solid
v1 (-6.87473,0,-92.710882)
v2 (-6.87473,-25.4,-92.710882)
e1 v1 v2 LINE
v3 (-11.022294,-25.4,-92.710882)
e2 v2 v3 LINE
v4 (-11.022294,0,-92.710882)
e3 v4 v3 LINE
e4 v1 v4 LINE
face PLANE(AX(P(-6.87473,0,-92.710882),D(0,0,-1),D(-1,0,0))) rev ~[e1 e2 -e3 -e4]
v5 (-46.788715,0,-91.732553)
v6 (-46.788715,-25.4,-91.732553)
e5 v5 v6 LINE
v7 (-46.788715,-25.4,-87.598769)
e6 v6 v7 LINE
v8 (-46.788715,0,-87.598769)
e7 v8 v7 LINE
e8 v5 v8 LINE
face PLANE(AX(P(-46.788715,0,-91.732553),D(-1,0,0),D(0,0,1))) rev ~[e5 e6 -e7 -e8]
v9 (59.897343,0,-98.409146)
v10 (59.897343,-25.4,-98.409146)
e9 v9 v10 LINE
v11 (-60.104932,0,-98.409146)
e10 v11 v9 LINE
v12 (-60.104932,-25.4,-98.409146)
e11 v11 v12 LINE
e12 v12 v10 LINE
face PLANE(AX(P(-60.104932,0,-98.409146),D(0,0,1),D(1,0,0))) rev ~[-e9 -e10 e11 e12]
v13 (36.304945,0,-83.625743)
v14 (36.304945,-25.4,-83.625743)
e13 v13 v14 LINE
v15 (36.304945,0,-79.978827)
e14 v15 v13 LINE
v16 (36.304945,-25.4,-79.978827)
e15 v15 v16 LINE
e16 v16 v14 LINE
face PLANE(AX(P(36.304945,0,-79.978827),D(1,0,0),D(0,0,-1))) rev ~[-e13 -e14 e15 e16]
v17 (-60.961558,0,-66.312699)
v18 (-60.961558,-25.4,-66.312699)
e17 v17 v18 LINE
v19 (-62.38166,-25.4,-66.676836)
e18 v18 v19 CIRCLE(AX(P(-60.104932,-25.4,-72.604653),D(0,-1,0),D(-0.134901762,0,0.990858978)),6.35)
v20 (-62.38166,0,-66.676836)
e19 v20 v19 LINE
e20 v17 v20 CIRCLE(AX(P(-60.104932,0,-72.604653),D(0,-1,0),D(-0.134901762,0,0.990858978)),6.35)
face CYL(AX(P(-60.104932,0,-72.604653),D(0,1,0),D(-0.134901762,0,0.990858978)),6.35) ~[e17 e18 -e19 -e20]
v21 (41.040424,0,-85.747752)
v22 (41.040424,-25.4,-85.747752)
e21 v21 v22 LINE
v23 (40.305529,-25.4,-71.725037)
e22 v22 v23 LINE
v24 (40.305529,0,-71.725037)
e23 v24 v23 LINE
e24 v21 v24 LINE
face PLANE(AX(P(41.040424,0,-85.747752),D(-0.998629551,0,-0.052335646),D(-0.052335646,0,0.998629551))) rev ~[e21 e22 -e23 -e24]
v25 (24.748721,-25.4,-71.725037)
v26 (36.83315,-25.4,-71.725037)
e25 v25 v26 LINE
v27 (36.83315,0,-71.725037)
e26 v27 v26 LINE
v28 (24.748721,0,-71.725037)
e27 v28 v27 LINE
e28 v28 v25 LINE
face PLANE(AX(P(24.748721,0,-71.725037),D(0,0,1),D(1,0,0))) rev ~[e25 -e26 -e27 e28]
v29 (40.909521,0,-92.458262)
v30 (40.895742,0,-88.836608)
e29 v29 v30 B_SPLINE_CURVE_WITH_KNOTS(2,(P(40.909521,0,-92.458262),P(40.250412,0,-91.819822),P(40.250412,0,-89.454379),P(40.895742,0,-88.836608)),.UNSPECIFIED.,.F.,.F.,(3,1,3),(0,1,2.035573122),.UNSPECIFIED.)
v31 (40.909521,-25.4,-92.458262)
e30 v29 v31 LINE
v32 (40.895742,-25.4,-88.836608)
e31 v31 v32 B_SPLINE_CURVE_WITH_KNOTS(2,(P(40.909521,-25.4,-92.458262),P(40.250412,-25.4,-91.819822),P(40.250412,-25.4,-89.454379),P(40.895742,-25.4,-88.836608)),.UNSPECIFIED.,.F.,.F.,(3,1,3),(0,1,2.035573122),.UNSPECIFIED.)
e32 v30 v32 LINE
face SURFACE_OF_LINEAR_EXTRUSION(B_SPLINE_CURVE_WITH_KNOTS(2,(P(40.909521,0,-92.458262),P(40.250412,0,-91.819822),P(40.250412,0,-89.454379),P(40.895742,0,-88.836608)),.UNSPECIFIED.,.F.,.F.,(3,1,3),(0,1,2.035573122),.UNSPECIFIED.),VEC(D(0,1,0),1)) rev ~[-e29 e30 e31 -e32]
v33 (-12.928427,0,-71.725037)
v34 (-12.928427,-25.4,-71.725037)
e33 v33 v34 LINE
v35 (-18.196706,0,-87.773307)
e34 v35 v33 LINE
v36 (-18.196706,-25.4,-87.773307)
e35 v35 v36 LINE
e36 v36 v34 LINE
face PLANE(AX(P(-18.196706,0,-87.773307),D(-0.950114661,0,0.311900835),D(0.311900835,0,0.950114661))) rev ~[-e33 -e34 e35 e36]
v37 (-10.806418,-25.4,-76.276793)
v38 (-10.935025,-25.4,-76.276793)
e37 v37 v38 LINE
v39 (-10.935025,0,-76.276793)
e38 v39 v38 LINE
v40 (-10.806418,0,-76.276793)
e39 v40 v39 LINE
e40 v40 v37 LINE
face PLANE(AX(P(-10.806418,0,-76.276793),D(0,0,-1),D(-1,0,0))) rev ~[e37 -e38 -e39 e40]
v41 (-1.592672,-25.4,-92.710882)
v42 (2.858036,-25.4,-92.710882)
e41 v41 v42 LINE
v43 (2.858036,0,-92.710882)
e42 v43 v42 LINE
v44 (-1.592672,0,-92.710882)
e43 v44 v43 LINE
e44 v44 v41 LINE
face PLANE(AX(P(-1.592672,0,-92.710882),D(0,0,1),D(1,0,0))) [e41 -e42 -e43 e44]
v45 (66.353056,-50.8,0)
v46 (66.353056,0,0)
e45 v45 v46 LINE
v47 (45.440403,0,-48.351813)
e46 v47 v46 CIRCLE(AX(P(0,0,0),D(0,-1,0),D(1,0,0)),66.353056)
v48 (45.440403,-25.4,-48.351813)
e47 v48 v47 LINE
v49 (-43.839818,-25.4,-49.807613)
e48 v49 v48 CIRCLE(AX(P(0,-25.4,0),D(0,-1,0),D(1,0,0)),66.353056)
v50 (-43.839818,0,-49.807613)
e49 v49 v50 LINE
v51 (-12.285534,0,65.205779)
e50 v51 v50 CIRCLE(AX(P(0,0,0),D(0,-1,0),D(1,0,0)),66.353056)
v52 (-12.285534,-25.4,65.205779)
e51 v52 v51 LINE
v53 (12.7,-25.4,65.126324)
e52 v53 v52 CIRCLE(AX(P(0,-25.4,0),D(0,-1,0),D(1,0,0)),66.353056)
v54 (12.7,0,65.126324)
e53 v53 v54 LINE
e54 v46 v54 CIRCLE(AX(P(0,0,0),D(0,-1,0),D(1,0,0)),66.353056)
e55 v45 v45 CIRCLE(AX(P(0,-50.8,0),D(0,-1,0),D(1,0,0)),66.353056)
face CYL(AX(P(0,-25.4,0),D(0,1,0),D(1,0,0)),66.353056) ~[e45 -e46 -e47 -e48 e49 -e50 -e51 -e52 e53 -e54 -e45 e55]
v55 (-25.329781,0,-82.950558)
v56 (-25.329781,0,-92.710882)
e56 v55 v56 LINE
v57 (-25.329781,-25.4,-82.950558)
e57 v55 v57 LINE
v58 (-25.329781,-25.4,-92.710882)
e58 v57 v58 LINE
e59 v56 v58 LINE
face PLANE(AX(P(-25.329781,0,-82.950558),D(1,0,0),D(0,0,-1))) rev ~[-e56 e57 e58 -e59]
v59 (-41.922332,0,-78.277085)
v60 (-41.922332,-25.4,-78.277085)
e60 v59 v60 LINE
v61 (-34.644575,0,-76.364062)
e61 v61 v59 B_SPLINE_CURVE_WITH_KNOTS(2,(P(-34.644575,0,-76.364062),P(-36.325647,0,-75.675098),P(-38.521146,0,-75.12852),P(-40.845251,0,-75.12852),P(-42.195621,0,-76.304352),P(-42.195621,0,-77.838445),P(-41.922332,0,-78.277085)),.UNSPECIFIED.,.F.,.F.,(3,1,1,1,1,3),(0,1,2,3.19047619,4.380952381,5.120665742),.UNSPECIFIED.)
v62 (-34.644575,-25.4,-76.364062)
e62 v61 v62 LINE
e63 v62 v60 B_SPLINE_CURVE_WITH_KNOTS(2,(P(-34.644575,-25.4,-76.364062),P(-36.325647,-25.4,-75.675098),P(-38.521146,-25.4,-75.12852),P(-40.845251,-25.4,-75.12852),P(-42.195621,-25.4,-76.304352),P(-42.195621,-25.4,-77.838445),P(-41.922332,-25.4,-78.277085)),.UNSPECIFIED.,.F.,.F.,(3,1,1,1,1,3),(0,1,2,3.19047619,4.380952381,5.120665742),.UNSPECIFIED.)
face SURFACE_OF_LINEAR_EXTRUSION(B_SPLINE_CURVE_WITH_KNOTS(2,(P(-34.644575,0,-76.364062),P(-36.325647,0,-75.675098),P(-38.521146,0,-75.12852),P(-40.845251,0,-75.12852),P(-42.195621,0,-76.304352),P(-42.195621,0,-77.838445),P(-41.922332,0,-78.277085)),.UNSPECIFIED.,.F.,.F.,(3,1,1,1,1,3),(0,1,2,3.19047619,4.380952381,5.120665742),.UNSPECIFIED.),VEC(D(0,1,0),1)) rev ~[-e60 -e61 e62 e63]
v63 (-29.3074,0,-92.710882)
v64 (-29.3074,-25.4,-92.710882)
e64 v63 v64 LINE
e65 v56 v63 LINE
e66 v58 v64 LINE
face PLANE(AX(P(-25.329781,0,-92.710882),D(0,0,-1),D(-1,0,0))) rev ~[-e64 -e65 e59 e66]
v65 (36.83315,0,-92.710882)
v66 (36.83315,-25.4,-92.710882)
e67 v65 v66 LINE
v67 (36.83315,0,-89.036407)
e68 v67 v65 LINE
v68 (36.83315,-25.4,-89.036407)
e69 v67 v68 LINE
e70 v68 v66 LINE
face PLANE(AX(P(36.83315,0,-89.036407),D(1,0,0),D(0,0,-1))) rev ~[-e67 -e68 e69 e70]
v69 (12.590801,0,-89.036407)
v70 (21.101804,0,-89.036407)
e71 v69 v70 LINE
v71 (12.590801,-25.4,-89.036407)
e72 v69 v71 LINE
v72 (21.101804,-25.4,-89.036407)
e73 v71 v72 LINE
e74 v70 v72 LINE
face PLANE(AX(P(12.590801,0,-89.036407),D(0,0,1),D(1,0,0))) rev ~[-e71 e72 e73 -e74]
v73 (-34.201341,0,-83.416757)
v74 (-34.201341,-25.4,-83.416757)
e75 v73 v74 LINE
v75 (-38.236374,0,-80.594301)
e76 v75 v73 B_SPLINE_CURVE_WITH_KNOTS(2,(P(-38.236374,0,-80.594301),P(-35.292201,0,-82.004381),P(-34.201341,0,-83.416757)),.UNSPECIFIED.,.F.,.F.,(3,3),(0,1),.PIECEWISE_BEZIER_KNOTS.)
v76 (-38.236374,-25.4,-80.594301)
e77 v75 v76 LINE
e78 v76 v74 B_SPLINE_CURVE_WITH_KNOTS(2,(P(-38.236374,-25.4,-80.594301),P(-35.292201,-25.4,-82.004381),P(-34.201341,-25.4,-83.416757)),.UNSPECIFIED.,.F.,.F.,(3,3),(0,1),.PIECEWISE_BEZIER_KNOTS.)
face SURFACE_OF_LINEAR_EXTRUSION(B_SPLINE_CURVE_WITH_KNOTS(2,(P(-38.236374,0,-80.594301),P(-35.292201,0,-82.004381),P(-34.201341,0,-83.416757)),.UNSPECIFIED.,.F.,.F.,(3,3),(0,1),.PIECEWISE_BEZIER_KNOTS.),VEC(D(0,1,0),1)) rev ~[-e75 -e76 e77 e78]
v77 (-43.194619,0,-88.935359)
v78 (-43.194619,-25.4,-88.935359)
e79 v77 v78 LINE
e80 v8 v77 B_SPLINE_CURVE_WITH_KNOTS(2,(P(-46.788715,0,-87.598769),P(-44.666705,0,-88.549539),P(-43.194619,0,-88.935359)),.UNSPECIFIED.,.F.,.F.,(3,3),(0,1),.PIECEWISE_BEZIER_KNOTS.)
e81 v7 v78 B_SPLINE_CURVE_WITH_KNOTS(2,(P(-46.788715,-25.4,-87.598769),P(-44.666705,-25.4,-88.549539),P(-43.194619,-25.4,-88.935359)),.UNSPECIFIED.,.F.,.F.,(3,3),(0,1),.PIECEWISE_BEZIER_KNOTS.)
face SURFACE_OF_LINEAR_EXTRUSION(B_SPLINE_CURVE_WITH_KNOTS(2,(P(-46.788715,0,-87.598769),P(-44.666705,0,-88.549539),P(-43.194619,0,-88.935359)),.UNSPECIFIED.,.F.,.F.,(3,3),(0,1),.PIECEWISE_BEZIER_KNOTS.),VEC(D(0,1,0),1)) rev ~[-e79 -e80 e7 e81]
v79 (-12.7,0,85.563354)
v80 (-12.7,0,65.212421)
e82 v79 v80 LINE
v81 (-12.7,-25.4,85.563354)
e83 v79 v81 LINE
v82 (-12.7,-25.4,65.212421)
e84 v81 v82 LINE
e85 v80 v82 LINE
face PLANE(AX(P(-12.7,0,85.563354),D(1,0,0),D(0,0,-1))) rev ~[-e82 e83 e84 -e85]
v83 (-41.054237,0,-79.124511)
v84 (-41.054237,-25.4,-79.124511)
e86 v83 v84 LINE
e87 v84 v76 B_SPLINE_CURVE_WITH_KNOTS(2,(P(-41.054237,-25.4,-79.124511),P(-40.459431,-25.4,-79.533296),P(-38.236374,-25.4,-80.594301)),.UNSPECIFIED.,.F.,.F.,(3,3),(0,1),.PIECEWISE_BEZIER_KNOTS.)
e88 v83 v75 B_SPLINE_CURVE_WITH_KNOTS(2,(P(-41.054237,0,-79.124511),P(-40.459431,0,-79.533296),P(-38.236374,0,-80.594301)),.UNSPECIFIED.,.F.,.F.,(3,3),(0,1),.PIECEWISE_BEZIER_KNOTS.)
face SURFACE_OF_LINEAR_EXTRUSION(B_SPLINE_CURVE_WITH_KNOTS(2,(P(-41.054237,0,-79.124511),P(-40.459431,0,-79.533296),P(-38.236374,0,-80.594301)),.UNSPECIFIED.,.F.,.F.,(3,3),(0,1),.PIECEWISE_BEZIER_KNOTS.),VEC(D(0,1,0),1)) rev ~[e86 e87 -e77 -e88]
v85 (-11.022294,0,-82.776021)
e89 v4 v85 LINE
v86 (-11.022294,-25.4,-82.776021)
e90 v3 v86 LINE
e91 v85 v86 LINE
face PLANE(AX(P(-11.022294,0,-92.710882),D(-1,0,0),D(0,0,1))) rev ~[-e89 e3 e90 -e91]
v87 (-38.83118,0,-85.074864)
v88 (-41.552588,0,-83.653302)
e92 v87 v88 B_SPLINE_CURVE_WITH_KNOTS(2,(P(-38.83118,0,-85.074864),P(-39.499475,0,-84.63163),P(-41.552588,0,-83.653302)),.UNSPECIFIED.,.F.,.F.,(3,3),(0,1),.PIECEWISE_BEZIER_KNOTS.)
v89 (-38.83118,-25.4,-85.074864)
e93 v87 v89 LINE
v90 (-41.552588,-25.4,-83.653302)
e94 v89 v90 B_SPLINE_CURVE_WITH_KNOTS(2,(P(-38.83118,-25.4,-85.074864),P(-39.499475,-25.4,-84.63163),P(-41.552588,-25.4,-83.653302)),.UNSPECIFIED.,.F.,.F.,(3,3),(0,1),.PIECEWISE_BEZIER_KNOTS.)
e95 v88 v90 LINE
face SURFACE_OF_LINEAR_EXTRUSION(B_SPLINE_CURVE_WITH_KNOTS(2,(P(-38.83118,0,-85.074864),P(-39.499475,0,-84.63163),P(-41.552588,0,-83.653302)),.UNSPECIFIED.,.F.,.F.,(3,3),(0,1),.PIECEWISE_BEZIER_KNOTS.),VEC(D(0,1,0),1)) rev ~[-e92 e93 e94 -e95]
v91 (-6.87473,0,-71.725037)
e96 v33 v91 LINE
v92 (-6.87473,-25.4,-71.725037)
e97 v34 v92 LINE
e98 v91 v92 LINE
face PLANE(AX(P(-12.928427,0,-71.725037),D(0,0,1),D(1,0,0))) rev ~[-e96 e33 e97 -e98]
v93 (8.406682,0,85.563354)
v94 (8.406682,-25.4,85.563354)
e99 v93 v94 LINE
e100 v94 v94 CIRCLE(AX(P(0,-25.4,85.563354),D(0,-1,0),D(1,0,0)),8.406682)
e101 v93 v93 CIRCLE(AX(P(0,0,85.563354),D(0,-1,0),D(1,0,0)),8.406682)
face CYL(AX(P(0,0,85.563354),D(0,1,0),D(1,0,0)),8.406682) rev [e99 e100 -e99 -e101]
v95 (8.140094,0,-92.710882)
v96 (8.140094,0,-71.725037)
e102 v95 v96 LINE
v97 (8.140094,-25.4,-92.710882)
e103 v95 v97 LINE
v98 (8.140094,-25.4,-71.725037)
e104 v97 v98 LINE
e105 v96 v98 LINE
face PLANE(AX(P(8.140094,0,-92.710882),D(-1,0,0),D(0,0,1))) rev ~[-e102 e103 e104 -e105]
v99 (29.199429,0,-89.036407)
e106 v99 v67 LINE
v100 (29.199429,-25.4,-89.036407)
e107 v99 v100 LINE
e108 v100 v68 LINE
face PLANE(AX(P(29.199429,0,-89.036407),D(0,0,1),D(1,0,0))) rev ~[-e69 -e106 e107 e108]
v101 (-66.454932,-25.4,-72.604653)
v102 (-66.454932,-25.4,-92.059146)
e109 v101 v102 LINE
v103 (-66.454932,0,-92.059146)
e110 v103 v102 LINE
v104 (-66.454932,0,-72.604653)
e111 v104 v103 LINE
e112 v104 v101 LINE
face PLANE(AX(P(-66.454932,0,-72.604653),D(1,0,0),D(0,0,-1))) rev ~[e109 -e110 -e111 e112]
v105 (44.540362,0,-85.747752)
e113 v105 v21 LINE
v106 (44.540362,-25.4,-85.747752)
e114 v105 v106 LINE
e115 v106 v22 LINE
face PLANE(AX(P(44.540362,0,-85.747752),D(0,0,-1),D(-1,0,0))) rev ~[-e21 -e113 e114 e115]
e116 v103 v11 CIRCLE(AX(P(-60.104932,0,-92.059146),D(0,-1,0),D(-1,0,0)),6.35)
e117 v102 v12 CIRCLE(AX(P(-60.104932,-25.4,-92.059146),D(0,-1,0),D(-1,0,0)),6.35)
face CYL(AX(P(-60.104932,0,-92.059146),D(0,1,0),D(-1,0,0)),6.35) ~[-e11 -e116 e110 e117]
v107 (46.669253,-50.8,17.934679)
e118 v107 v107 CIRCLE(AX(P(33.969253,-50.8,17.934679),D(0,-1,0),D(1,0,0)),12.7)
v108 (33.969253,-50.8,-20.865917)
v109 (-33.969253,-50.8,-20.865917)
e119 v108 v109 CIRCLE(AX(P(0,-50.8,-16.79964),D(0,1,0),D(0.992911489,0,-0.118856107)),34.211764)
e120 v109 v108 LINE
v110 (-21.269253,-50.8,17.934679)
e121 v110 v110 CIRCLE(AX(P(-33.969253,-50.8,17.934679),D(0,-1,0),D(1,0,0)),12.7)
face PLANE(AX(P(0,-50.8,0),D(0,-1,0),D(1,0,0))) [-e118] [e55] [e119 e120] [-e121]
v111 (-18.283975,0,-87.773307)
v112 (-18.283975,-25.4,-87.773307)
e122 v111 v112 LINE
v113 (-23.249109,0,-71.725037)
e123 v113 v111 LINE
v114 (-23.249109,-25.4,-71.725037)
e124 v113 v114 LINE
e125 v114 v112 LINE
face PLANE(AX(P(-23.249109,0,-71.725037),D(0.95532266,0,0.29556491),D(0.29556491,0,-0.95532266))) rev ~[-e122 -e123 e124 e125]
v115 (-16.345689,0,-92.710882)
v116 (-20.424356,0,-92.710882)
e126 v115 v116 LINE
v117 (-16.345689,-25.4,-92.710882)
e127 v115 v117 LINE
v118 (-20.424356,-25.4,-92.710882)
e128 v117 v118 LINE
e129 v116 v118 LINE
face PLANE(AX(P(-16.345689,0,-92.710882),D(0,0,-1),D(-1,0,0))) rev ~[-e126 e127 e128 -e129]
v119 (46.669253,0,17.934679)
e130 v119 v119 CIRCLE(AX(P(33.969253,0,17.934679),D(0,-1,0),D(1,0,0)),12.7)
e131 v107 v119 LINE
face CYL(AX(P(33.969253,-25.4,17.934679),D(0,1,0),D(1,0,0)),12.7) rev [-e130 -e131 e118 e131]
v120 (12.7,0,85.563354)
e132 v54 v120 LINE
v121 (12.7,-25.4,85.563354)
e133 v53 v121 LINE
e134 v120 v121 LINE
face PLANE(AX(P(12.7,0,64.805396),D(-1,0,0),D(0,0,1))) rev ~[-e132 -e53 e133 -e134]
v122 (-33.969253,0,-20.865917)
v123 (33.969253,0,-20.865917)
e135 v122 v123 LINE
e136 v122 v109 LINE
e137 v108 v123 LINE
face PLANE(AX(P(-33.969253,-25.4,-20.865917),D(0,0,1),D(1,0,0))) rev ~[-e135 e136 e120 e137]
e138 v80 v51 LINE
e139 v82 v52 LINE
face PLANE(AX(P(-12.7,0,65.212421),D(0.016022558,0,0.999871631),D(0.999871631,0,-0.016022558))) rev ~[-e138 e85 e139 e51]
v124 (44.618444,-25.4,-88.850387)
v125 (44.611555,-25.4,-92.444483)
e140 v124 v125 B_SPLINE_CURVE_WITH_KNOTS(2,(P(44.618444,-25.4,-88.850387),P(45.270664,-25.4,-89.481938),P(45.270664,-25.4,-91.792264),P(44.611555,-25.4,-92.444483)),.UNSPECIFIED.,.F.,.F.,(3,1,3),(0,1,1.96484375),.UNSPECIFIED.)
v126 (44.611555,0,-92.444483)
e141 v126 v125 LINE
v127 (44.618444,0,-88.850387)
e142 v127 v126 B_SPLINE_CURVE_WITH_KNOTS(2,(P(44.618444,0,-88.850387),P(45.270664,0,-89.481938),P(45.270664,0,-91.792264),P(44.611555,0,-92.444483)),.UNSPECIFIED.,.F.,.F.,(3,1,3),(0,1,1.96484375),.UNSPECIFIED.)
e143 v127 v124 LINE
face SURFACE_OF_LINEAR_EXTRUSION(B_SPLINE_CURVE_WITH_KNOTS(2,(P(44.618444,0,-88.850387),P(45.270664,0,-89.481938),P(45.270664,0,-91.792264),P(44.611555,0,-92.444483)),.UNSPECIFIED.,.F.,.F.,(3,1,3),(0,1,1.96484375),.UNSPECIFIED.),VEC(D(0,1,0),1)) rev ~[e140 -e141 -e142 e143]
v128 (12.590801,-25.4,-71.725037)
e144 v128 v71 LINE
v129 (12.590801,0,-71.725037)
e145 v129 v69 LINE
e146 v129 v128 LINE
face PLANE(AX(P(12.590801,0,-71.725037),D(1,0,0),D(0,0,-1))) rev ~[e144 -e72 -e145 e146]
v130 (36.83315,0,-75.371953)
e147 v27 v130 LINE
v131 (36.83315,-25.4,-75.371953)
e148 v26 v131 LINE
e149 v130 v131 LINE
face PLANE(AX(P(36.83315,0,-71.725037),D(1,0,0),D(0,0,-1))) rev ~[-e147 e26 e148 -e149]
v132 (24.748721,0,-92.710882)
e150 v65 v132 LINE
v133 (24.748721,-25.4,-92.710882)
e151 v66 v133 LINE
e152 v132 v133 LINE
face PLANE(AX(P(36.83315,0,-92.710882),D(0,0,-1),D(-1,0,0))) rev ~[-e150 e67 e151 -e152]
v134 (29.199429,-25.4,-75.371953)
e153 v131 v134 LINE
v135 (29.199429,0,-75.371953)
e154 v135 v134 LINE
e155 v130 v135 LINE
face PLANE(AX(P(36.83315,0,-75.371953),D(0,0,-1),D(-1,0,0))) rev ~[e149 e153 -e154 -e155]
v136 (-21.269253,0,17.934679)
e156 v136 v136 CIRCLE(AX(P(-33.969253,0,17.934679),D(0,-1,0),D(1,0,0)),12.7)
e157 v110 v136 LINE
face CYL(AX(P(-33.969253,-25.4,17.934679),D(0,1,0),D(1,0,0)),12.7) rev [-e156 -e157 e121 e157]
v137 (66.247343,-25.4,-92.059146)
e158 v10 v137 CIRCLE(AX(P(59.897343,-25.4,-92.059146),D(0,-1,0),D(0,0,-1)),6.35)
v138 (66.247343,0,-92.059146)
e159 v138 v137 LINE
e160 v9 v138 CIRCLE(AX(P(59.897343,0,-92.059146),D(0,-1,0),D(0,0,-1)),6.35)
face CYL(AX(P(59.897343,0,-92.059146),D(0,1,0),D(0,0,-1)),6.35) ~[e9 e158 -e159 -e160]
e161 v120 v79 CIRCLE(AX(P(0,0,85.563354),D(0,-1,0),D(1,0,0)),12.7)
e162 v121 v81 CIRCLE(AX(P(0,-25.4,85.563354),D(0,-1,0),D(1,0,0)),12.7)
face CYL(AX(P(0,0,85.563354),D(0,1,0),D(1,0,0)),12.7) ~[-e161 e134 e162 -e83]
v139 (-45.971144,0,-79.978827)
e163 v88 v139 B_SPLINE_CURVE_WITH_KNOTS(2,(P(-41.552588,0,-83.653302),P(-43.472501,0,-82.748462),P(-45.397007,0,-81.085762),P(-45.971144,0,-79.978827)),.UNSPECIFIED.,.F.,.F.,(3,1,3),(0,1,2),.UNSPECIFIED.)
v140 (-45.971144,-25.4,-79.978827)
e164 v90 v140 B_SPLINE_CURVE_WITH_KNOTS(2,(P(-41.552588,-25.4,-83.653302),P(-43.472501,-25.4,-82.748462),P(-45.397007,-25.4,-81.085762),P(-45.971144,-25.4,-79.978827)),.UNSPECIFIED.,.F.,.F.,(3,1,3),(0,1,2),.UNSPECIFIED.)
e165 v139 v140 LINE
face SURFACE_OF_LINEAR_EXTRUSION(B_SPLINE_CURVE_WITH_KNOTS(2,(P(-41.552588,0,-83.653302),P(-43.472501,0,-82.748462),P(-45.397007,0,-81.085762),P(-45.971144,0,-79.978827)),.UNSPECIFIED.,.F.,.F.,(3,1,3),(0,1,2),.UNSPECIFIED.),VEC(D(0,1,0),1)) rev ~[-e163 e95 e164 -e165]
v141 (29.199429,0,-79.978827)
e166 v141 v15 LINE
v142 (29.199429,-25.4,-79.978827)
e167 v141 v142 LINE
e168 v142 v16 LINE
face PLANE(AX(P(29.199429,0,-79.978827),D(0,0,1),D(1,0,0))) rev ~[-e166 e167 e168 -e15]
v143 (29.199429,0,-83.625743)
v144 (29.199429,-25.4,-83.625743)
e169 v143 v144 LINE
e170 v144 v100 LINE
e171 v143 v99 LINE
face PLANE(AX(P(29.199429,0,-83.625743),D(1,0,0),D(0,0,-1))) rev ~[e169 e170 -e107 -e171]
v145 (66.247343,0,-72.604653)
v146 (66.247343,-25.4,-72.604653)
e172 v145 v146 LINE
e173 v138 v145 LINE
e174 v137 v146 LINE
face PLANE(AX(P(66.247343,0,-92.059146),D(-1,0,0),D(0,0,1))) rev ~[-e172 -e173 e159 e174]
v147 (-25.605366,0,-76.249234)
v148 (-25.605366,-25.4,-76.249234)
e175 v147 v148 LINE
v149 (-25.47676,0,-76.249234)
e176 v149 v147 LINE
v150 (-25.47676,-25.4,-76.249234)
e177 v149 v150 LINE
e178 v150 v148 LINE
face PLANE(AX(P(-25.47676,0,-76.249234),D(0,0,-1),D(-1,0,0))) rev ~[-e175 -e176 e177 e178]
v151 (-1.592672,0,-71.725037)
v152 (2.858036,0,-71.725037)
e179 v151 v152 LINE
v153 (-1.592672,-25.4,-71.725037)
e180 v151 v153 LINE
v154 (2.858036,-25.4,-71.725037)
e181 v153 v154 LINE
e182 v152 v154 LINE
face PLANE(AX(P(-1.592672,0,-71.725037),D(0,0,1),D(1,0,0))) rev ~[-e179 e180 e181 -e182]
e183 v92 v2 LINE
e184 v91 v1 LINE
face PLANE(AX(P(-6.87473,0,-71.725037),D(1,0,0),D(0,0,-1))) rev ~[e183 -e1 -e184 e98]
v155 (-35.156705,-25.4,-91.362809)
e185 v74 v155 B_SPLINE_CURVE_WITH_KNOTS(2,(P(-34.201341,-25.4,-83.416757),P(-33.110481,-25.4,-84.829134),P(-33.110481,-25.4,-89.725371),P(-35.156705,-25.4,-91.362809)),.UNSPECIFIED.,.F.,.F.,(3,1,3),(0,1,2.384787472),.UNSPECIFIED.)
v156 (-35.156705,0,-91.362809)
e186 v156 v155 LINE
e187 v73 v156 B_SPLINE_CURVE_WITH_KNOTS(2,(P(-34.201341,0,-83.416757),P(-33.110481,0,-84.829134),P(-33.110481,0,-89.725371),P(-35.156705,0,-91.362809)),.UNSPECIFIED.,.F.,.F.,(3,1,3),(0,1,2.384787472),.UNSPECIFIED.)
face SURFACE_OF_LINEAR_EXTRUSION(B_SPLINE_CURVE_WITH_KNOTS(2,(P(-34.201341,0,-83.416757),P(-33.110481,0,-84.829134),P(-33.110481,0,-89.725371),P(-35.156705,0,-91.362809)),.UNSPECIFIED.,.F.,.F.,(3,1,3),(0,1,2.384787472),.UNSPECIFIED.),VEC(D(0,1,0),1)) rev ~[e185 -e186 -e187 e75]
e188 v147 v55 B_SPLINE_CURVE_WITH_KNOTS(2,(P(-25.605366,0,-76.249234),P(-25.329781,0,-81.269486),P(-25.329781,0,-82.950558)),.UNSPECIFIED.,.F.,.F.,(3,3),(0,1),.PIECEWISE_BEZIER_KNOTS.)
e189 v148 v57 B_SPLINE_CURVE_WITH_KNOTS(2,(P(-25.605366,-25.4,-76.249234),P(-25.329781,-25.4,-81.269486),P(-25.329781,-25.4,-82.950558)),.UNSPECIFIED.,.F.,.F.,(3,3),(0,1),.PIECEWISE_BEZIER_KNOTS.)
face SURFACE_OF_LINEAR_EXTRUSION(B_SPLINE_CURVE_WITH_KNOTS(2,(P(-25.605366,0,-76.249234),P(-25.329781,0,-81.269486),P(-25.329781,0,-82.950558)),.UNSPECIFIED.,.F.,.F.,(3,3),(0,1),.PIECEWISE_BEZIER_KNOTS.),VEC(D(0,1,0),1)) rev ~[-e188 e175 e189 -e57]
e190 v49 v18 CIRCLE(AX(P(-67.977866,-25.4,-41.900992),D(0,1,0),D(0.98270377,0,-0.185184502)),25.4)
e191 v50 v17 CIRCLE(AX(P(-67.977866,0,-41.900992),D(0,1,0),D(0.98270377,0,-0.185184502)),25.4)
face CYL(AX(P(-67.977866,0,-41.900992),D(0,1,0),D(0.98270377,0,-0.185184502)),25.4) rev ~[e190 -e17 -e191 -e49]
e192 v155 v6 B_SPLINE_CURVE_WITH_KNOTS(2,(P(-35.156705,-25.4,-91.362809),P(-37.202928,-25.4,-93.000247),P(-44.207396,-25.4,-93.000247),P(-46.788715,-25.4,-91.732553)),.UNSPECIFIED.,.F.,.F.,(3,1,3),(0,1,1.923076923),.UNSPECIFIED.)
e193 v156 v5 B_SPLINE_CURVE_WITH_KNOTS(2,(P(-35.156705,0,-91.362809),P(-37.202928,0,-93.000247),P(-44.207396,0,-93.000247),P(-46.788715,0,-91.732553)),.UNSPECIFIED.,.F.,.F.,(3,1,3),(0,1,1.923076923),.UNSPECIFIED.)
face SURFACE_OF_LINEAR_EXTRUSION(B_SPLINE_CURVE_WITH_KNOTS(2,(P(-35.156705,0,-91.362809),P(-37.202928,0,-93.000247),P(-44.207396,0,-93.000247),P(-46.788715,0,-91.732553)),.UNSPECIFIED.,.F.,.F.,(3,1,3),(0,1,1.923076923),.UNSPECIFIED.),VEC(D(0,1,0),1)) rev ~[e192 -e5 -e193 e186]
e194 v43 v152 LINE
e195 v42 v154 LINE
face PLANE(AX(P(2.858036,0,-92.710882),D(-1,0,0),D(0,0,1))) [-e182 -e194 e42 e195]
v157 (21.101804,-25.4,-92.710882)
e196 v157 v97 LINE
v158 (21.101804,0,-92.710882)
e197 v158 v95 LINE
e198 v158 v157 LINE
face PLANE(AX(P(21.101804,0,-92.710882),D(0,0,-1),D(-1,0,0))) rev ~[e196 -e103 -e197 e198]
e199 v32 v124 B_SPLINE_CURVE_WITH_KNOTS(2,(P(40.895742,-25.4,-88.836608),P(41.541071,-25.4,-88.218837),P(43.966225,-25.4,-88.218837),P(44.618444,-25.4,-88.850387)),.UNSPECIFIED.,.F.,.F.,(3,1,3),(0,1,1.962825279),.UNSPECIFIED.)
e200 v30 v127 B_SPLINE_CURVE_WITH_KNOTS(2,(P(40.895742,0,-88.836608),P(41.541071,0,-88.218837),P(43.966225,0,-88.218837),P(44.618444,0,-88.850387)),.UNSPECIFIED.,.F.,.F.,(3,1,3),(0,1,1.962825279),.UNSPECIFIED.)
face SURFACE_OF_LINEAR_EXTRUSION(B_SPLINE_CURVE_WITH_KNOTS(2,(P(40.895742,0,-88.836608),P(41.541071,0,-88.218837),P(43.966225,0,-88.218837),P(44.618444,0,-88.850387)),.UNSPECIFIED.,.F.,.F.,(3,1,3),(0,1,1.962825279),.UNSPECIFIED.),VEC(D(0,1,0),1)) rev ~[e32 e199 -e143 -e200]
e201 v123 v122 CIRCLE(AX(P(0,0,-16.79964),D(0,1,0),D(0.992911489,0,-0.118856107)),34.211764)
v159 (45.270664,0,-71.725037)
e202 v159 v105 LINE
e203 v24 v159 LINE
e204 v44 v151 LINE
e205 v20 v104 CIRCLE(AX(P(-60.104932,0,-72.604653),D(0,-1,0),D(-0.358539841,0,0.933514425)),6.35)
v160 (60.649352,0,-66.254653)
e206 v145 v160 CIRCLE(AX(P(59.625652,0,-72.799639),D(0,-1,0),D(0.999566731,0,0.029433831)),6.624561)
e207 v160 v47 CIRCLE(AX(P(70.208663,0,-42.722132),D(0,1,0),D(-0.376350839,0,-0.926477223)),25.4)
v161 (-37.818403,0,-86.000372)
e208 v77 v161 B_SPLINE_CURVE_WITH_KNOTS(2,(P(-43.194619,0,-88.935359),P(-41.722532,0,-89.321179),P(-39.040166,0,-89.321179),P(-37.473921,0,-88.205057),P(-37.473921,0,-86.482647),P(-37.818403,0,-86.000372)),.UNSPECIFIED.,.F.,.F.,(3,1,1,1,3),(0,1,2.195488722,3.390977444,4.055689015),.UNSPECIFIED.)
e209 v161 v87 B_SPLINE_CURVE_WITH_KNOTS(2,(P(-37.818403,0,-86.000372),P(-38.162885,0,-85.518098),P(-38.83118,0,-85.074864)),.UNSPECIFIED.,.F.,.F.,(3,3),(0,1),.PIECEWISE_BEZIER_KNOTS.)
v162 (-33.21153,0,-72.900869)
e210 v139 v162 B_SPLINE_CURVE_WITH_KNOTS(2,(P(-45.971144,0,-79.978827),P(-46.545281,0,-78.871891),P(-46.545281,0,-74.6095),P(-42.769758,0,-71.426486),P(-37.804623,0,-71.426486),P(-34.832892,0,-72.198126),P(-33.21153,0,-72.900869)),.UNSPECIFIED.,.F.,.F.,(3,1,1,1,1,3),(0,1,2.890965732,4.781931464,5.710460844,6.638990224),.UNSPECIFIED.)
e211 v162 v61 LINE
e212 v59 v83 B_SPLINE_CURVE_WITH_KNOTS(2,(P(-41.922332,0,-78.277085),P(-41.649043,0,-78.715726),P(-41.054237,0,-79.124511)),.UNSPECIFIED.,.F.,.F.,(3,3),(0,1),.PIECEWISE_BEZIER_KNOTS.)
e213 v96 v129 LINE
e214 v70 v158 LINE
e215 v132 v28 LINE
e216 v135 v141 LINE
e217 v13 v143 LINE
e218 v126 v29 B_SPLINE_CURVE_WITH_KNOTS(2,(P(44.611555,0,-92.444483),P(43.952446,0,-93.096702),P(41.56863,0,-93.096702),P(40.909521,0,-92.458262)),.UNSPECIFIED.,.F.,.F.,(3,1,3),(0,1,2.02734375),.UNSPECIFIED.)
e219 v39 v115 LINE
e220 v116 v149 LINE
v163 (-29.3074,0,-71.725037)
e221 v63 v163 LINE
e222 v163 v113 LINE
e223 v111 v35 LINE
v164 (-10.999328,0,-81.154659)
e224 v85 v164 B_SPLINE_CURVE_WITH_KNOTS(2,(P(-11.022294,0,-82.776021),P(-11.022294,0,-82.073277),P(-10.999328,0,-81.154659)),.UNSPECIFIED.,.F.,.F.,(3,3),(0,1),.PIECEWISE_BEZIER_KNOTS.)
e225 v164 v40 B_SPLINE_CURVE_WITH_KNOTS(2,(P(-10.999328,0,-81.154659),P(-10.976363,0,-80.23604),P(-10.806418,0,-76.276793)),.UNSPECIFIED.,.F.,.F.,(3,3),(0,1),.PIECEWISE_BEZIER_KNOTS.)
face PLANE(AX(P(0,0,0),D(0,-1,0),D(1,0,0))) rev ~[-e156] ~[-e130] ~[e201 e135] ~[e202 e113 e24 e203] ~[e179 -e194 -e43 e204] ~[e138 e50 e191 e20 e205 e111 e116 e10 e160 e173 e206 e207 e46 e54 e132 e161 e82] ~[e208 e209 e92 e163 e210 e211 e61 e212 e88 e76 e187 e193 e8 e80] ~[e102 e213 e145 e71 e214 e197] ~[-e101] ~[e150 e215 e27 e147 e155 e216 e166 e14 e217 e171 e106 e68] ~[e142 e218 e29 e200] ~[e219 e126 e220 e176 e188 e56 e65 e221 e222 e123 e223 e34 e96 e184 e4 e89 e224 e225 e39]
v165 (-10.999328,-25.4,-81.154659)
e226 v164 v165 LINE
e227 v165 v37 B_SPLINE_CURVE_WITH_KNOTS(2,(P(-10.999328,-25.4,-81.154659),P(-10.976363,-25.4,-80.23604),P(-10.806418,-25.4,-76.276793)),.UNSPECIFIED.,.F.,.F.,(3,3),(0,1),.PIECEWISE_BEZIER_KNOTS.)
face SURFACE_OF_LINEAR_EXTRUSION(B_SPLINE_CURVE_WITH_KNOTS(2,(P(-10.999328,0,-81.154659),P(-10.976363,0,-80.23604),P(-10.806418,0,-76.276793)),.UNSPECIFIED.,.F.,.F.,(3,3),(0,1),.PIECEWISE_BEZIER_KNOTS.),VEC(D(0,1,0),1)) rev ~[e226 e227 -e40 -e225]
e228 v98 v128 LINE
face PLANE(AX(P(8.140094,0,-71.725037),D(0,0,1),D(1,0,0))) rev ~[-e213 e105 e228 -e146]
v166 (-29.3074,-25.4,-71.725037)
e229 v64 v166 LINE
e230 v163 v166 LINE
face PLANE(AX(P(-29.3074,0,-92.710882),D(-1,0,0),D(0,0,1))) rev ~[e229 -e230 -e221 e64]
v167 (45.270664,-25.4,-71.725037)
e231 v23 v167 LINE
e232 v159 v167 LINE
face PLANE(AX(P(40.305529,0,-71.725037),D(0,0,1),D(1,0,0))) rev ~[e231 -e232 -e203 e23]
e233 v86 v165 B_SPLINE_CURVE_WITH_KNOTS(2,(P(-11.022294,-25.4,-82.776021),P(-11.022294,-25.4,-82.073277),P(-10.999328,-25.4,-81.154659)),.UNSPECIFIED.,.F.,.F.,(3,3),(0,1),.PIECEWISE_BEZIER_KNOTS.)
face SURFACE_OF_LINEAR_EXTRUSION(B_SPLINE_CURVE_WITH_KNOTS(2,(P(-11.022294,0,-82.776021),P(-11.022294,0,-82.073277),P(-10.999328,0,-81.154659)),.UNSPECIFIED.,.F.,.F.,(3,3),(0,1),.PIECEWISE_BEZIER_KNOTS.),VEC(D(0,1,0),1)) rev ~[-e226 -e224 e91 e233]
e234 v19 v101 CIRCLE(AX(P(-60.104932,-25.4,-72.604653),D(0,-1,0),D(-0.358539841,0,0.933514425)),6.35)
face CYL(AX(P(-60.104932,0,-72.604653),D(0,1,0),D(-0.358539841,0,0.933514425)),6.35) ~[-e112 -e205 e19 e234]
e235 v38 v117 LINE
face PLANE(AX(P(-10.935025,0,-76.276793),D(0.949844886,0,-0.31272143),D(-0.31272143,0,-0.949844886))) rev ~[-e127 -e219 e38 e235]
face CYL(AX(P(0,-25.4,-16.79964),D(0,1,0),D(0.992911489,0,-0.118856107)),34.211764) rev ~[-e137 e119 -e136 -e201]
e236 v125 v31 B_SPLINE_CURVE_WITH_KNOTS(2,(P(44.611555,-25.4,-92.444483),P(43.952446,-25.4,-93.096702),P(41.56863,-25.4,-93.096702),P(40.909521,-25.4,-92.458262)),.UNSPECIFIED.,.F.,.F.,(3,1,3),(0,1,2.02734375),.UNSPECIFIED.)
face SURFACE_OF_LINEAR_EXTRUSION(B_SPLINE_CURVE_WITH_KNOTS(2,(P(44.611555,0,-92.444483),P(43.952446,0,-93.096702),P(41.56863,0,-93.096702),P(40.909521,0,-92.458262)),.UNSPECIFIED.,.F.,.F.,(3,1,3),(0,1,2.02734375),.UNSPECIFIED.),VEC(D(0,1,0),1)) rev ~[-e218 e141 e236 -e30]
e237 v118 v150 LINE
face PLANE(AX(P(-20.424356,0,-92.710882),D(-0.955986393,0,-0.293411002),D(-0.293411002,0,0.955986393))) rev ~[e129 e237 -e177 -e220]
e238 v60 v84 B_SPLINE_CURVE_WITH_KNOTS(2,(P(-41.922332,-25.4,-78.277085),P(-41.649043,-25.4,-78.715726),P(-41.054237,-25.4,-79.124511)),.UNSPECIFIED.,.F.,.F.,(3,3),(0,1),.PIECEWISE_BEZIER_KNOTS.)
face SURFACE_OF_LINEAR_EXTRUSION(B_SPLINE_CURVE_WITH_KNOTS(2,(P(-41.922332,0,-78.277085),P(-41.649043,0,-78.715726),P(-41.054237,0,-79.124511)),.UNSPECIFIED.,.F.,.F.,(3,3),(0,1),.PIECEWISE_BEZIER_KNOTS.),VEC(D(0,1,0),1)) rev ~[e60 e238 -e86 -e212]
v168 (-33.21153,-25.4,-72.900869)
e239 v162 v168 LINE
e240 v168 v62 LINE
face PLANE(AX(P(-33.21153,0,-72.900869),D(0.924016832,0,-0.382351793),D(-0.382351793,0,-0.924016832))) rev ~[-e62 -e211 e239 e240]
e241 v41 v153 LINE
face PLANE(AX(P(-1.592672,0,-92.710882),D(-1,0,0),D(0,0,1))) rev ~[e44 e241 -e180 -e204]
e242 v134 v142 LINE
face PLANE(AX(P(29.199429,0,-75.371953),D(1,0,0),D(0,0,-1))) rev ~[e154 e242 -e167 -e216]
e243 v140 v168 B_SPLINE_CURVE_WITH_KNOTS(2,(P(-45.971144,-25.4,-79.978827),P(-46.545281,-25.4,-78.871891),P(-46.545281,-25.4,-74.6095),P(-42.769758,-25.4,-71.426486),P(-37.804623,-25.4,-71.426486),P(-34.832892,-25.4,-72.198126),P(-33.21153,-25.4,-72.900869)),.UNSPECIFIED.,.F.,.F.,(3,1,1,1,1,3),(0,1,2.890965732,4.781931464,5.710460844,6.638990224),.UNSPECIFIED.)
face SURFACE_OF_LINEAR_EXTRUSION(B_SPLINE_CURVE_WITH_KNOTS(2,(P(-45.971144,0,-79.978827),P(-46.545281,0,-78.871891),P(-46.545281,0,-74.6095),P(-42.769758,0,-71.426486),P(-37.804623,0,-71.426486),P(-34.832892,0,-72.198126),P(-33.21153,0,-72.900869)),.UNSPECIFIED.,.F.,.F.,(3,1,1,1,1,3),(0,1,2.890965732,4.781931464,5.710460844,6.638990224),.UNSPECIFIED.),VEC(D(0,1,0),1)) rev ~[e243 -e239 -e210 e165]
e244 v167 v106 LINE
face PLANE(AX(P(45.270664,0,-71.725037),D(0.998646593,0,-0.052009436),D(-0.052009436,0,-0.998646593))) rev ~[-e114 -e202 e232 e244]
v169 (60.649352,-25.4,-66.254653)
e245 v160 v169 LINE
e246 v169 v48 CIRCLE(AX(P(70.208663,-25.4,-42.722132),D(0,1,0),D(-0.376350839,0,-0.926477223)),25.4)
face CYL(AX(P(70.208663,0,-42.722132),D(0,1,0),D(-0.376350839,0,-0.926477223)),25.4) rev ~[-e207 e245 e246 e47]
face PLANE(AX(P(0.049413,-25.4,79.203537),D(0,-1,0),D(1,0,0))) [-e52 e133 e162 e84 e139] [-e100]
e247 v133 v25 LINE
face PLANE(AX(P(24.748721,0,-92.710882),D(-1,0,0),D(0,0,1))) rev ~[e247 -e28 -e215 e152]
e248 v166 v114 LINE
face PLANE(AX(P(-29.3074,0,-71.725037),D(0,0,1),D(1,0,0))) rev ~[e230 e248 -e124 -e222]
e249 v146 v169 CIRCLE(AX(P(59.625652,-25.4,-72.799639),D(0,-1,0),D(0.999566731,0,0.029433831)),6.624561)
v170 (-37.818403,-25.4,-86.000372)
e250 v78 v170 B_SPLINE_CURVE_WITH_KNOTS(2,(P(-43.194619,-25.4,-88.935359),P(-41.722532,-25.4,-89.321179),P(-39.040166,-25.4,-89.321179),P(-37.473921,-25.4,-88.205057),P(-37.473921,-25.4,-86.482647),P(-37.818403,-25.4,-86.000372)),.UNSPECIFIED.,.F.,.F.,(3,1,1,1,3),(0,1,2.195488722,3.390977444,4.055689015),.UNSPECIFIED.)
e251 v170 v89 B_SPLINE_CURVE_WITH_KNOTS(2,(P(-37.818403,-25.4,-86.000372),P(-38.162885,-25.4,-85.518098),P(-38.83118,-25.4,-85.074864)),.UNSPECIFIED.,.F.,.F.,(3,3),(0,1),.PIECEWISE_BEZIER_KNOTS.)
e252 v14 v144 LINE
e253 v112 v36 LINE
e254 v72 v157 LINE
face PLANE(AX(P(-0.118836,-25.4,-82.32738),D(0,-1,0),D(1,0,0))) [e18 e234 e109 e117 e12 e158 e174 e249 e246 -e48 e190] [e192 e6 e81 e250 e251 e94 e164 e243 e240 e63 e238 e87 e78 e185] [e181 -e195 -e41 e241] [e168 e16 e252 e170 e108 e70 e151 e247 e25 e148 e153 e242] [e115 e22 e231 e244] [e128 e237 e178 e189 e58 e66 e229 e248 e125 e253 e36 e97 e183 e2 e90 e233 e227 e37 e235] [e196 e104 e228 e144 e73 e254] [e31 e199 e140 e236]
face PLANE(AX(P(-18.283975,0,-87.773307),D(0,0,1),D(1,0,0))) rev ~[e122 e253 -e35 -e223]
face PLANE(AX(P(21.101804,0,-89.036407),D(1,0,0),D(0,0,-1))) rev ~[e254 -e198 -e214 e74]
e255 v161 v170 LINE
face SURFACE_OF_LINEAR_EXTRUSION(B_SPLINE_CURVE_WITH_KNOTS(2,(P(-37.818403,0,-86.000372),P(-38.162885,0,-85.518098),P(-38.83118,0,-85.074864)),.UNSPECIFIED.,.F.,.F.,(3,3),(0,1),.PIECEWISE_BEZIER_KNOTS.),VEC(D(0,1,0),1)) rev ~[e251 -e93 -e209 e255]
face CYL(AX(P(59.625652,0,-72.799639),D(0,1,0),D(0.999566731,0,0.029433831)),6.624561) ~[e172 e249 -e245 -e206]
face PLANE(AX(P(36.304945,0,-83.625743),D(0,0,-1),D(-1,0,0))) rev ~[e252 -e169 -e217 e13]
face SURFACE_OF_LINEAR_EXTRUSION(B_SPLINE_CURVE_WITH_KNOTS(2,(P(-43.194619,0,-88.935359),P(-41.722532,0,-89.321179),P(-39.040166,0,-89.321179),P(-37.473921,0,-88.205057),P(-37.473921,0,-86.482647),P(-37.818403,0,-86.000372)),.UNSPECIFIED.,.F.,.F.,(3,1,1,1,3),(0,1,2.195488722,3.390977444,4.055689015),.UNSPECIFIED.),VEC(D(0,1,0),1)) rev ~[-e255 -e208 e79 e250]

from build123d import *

# Parameters (mm, degrees)
F0_R         = 66.3530558333
F0_R_2       = 12.7
F1_DEPTH     = 25.4
F1_FACE_R    = 66.3530558333
F1_FACE_R_2  = 12.7
F1_FACE1_R   = 66.3530558333
F1_FACE1_R_2 = 12.7
F2_W         = 4.4507078564
F2_H         = 20.9858454036
F2_R         = 8.4066819866
F3_DEPTH     = 25.4


with BuildPart() as f1:
    # F0 (on Front) → F1 (new body)
    with BuildSketch(Plane.XZ):
        Circle(F0_R)
        with BuildLine():
            ThreePointArc((33.9692530815, -20.8659172058), (0, -51.0114037039), (-33.9692530815, -20.8659172058))
            Line((-33.9692530815, -20.8659172058), (33.9692530815, -20.8659172058))
        make_face(mode=Mode.SUBTRACT)
        with Locations((-33.9692530815, 17.9346787966)):
            Circle(F0_R_2, mode=Mode.SUBTRACT)
        with Locations((33.9692530815, 17.9346787966)):
            Circle(F0_R_2, mode=Mode.SUBTRACT)
    extrude(amount=F1_DEPTH)

    # F1_face (on face) + F1_face1 (on face) + F2 (on Front) → F3 (join)
    with BuildSketch(Plane(origin=(0, -25.4, 3.0362688443), x_dir=(1, 0, 0), z_dir=(0, -1, 0))):
        with Locations((0, -3.0362688443)):
            Circle(F1_FACE_R)
        with BuildLine():
            Line((-33.9692530815, -23.9021860501), (33.9692530815, -23.9021860501))
            ThreePointArc((33.9692530815, -23.9021860501), (0, -54.0476725482), (-33.9692530815, -23.9021860501))
        make_face(mode=Mode.SUBTRACT)
        with Locations((-33.9692530815, 14.8984099523)):
            Circle(F1_FACE_R_2, mode=Mode.SUBTRACT)
        with Locations((33.9692530815, 14.8984099523)):
            Circle(F1_FACE_R_2, mode=Mode.SUBTRACT)
    with BuildSketch(Plane(origin=(0, 0, 3.0362688443), x_dir=(1, 0, 0), z_dir=(0, 1, 0))):
        with Locations((0, 3.0362688443)):
            Circle(F1_FACE1_R)
        with BuildLine():
            Line((33.9692530815, 23.9021860501), (-33.9692530815, 23.9021860501))
            ThreePointArc((-33.9692530815, 23.9021860501), (0, 54.0476725482), (33.9692530815, 23.9021860501))
        make_face(mode=Mode.SUBTRACT)
        with Locations((-33.9692530815, -14.8984099523)):
            Circle(F1_FACE1_R_2, mode=Mode.SUBTRACT)
        with Locations((33.9692530815, -14.8984099523)):
            Circle(F1_FACE1_R_2, mode=Mode.SUBTRACT)
    with BuildSketch(Plane.XZ):
        with BuildLine():
            ThreePointArc((-62.3816600836, -66.6768364352), (-65.3384644923, -69.0084552345), (-66.4549320936, -72.6046530366))
            Line((-66.4549320936, -72.6046530366), (-66.4549320936, -92.0591460705))
            ThreePointArc((-66.4549320936, -92.0591460705), (-64.5950601542, -96.549274131), (-60.1049320936, -98.4091460705))
            Line((-60.1049320936, -98.4091460705), (59.8973428065, -98.4091460705))
            ThreePointArc((59.8973428065, -98.4091460705), (64.387470867, -96.549274131), (66.2473428065, -92.0591460705))
            Line((66.2473428065, -92.0591460705), (66.2473428065, -72.6046530366))
            ThreePointArc((66.2473428065, -72.6046530366), (64.5949199756, -68.4188649341), (60.649351561, -66.2546530366))
            Line((60.649351561, -66.2546530366), (58.6019530892, -66.2546530366))
            Line((58.6019530892, -66.2546530366), (-60.1049320936, -66.2546530366))
            ThreePointArc((-60.1049320936, -66.2546530366), (-60.5342273612, -66.2691810279), (-60.9615582829, -66.3126985253))
            ThreePointArc((-60.9615582829, -66.3126985253), (-61.6689814595, -66.5050153427), (-62.3816600836, -66.6768364352))
        make_face()
        with BuildLine():
            add(Edge.make_bspline(
                [(-34.2013412228, -83.4167571957), (-33.1104814541, -84.8291335278), (-33.1104814541, -86.8822464399)],
                knots=[0, 0, 0, 1, 1, 1], degree=2))
            add(Edge.make_bspline(
                [(-33.1104814541, -86.8822464399), (-33.1104814541, -89.7253714793), (-35.1567047255, -91.3628094058)],
                knots=[0, 0, 0, 1, 1, 1], degree=2))
            add(Edge.make_bspline(
                [(-35.1567047255, -91.3628094058), (-37.202927997, -93.0002473324), (-40.8452513511, -93.0002473324)],
                knots=[0, 0, 0, 1, 1, 1], degree=2))
            add(Edge.make_bspline(
                [(-40.8452513511, -93.0002473324), (-44.2073959857, -93.0002473324), (-46.7887146806, -91.7325534538)],
                knots=[0, 0, 0, 1, 1, 1], degree=2))
            Line((-46.7887146806, -91.7325534538), (-46.7887146806, -87.598769067))
            add(Edge.make_bspline(
                [(-46.7887146806, -87.598769067), (-44.666705362, -88.5495394759), (-43.194618811, -88.935359352)],
                knots=[0, 0, 0, 1, 1, 1], degree=2))
            add(Edge.make_bspline(
                [(-43.194618811, -88.935359352), (-41.7225322599, -89.3211792281), (-40.5007693189, -89.3211792281)],
                knots=[0, 0, 0, 1, 1, 1], degree=2))
            add(Edge.make_bspline(
                [(-40.5007693189, -89.3211792281), (-39.0401655022, -89.3211792281), (-38.2570430156, -88.7631183359)],
                knots=[0, 0, 0, 1, 1, 1], degree=2))
            add(Edge.make_bspline(
                [(-38.2570430156, -88.7631183359), (-37.473920529, -88.2050574437), (-37.473920529, -87.0981218468)],
                knots=[0, 0, 0, 1, 1, 1], degree=2))
            add(Edge.make_bspline(
                [(-37.473920529, -87.0981218468), (-37.473920529, -86.4826472825), (-37.8184025612, -86.0003724374)],
                knots=[0, 0, 0, 1, 1, 1], degree=2))
            add(Edge.make_bspline(
                [(-37.8184025612, -86.0003724374), (-38.1628845935, -85.5180975923), (-38.831179736, -85.0748640441)],
                knots=[0, 0, 0, 1, 1, 1], degree=2))
            add(Edge.make_bspline(
                [(-38.831179736, -85.0748640441), (-39.4994748785, -84.631630496), (-41.5525877906, -83.6533015245)],
                knots=[0, 0, 0, 1, 1, 1], degree=2))
            add(Edge.make_bspline(
                [(-41.5525877906, -83.6533015245), (-43.4725009836, -82.7484620531), (-44.434754127, -81.917112082)],
                knots=[0, 0, 0, 1, 1, 1], degree=2))
            add(Edge.make_bspline(
                [(-44.434754127, -81.917112082), (-45.3970072704, -81.0857621109), (-45.9711439908, -79.978826514)],
                knots=[0, 0, 0, 1, 1, 1], degree=2))
            add(Edge.make_bspline(
                [(-45.9711439908, -79.978826514), (-46.5452807111, -78.8718909171), (-46.5452807111, -77.3975078191)],
                knots=[0, 0, 0, 1, 1, 1], degree=2))
            add(Edge.make_bspline(
                [(-46.5452807111, -77.3975078191), (-46.5452807111, -74.6094999049), (-44.6575191745, -73.017992916)],
                knots=[0, 0, 0, 1, 1, 1], degree=2))
            add(Edge.make_bspline(
                [(-44.6575191745, -73.017992916), (-42.7697576379, -71.4264859271), (-39.4397646596, -71.4264859271)],
                knots=[0, 0, 0, 1, 1, 1], degree=2))
            add(Edge.make_bspline(
                [(-39.4397646596, -71.4264859271), (-37.80462328, -71.4264859271), (-36.3187574476, -71.8123058032)],
                knots=[0, 0, 0, 1, 1, 1], degree=2))
            add(Edge.make_bspline(
                [(-36.3187574476, -71.8123058032), (-34.8328916152, -72.1981256793), (-33.2115295168, -72.900869025)],
                knots=[0, 0, 0, 1, 1, 1], degree=2))
            Line((-33.2115295168, -72.900869025), (-34.6445747709, -76.3640617224))
            add(Edge.make_bspline(
                [(-34.6445747709, -76.3640617224), (-36.3256470882, -75.6750976579), (-37.4233964976, -75.401808579)],
                knots=[0, 0, 0, 1, 1, 1], degree=2))
            add(Edge.make_bspline(
                [(-37.4233964976, -75.401808579), (-38.521145907, -75.1285195001), (-39.5821505663, -75.1285195001)],
                knots=[0, 0, 0, 1, 1, 1], degree=2))
            add(Edge.make_bspline(
                [(-39.5821505663, -75.1285195001), (-40.8452513511, -75.1285195001), (-41.5204361343, -75.7164355018)],
                knots=[0, 0, 0, 1, 1, 1], degree=2))
            add(Edge.make_bspline(
                [(-41.5204361343, -75.7164355018), (-42.1956209175, -76.3043515035), (-42.1956209175, -77.2505288187)],
                knots=[0, 0, 0, 1, 1, 1], degree=2))
            add(Edge.make_bspline(
                [(-42.1956209175, -77.2505288187), (-42.1956209175, -77.8384448204), (-41.9223318386, -78.2770852747)],
                knots=[0, 0, 0, 1, 1, 1], degree=2))
            add(Edge.make_bspline(
                [(-41.9223318386, -78.2770852747), (-41.6490427597, -78.7157257291), (-41.0542371174, -79.124511074)],
                knots=[0, 0, 0, 1, 1, 1], degree=2))
            add(Edge.make_bspline(
                [(-41.0542371174, -79.124511074), (-40.459431475, -79.533296419), (-38.2363740937, -80.5943010782)],
                knots=[0, 0, 0, 1, 1, 1], degree=2))
            add(Edge.make_bspline(
                [(-38.2363740937, -80.5943010782), (-35.2922009915, -82.0043808635), (-34.2013412228, -83.4167571957)],
                knots=[0, 0, 0, 1, 1, 1], degree=2))
        make_face(mode=Mode.SUBTRACT)
        with BuildLine():
            Line((-16.3456892187, -92.7108824253), (-20.4243564804, -92.7108824253))
            Line((-20.4243564804, -92.7108824253), (-25.4767596198, -76.2492343783))
            Line((-25.4767596198, -76.2492343783), (-25.6053662451, -76.2492343783))
            add(Edge.make_bspline(
                [(-25.6053662451, -76.2492343783), (-25.3297806194, -81.2694858614), (-25.3297806194, -82.9505581787)],
                knots=[0, 0, 0, 1, 1, 1], degree=2))
            Line((-25.3297806194, -82.9505581787), (-25.3297806194, -92.7108824253))
            Line((-25.3297806194, -92.7108824253), (-29.3073998182, -92.7108824253))
            Line((-29.3073998182, -92.7108824253), (-29.3073998182, -71.7250370217))
            Line((-29.3073998182, -71.7250370217), (-23.2491091447, -71.7250370217))
            Line((-23.2491091447, -71.7250370217), (-18.2839747868, -87.77330663))
            Line((-18.2839747868, -87.77330663), (-18.1967060053, -87.77330663))
            Line((-18.1967060053, -87.77330663), (-12.928427459, -71.7250370217))
            Line((-12.928427459, -71.7250370217), (-6.8747298792, -71.7250370217))
            Line((-6.8747298792, -71.7250370217), (-6.8747298792, -92.7108824253))
            Line((-6.8747298792, -92.7108824253), (-11.0222935473, -92.7108824253))
            Line((-11.0222935473, -92.7108824253), (-11.0222935473, -82.7760206157))
            add(Edge.make_bspline(
                [(-11.0222935473, -82.7760206157), (-11.0222935473, -82.07327727), (-10.9993280785, -81.1546585173)],
                knots=[0, 0, 0, 1, 1, 1], degree=2))
            add(Edge.make_bspline(
                [(-10.9993280785, -81.1546585173), (-10.9763626097, -80.2360397647), (-10.8064181404, -76.2767929409)],
                knots=[0, 0, 0, 1, 1, 1], degree=2))
            Line((-10.8064181404, -76.2767929409), (-10.9350247658, -76.2767929409))
            Line((-10.9350247658, -76.2767929409), (-16.3456892187, -92.7108824253))
        make_face(mode=Mode.SUBTRACT)
        with Locations((0.6326818766, -82.2179597235)):
            Rectangle(F2_W, F2_H, mode=Mode.SUBTRACT)
        Polygon((21.1018042319, -92.7108824253), (8.1400936324, -92.7108824253), (8.1400936324, -71.7250370217), (12.5908014888, -71.7250370217), (12.5908014888, -89.0364074148), (21.1018042319, -89.0364074148), align=None, mode=Mode.SUBTRACT)
        Polygon((36.8331503705, -89.0364074148), (36.8331503705, -92.7108824253), (24.7487206798, -92.7108824253), (24.7487206798, -71.7250370217), (36.8331503705, -71.7250370217), (36.8331503705, -75.3719534696), (29.1994285362, -75.3719534696), (29.1994285362, -79.978826514), (36.3049445878, -79.978826514), (36.3049445878, -83.6257429619), (29.1994285362, -83.6257429619), (29.1994285362, -89.0364074148), align=None, mode=Mode.SUBTRACT)
        with BuildLine():
            add(Edge.make_bspline(
                [(40.9095210853, -92.4582622683), (40.2504121303, -91.8198222353), (40.2504121303, -90.6577695132)],
                knots=[0, 0, 0, 1, 1, 1], degree=2))
            add(Edge.make_bspline(
                [(40.2504121303, -90.6577695132), (40.2504121303, -89.4543789473), (40.895741804, -88.8366078361)],
                knots=[0, 0, 0, 1, 1, 1], degree=2))
            add(Edge.make_bspline(
                [(40.895741804, -88.8366078361), (41.5410714777, -88.218836725), (42.7766137, -88.218836725)],
                knots=[0, 0, 0, 1, 1, 1], degree=2))
            add(Edge.make_bspline(
                [(42.7766137, -88.218836725), (43.9662249846, -88.218836725), (44.618444299, -88.8503871174)],
                knots=[0, 0, 0, 1, 1, 1], degree=2))
            add(Edge.make_bspline(
                [(44.618444299, -88.8503871174), (45.2706636133, -89.4819375098), (45.2706636133, -90.6577695132)],
                knots=[0, 0, 0, 1, 1, 1], degree=2))
            add(Edge.make_bspline(
                [(45.2706636133, -90.6577695132), (45.2706636133, -91.7922636727), (44.6115546583, -92.444482987)],
                knots=[0, 0, 0, 1, 1, 1], degree=2))
            add(Edge.make_bspline(
                [(44.6115546583, -92.444482987), (43.9524457033, -93.0967023014), (42.7766137, -93.0967023014)],
                knots=[0, 0, 0, 1, 1, 1], degree=2))
            add(Edge.make_bspline(
                [(42.7766137, -93.0967023014), (41.5686300403, -93.0967023014), (40.9095210853, -92.4582622683)],
                knots=[0, 0, 0, 1, 1, 1], degree=2))
        make_face(mode=Mode.SUBTRACT)
        Polygon((45.2706636133, -71.7250370217), (44.540361705, -85.7477522804), (41.0404242575, -85.7477522804), (40.3055292554, -71.7250370217), align=None, mode=Mode.SUBTRACT)
        with BuildLine():
            ThreePointArc((-60.9615582829, -66.3126985253), (-61.6821531332, -66.4536471195), (-62.3816600836, -66.6768364352))
            ThreePointArc((-62.3816600836, -66.6768364352), (-61.6689814595, -66.5050153427), (-60.9615582829, -66.3126985253))
        make_face()
        with BuildLine():
            ThreePointArc((-43.0171898532, -46.6046780348), (-49.1966681067, -59.0014776338), (-60.9615582829, -66.3126985253))
            ThreePointArc((-60.9615582829, -66.3126985253), (-60.5342273612, -66.2691810279), (-60.1049320936, -66.2546530366))
            Line((-60.1049320936, -66.2546530366), (58.6019530892, -66.2546530366))
            ThreePointArc((58.6019530892, -66.2546530366), (59.6256523251, -66.1750785354), (60.649351561, -66.2546530366))
            ThreePointArc((60.649351561, -66.2546530366), (50.2869781412, -58.4792403386), (45.107152313, -46.6046780348))
            Line((45.107152313, -46.6046780348), (0, -60.4971349239))
            Line((0, -60.4971349239), (-43.0171898532, -46.6046780348))
        make_face()
        with BuildLine():
            ThreePointArc((60.649351561, -66.2546530366), (59.6256523251, -66.1750785354), (58.6019530892, -66.2546530366))
            Line((58.6019530892, -66.2546530366), (60.649351561, -66.2546530366))
        make_face()
        with BuildLine():
            Line((-12.7, 85.5633541942), (-12.7, 65.2124211192))
            Line((-12.7, 65.2124211192), (12.7, 64.8053959012))
            Line((12.7, 64.8053959012), (12.7, 85.5633541942))
            ThreePointArc((12.7, 85.5633541942), (0, 98.2633541942), (-12.7, 85.5633541942))
        make_face()
        with Locations((0, 85.5633541942)):
            Circle(F2_R, mode=Mode.SUBTRACT)
    extrude(amount=F3_DEPTH, dir=(0, -1, 0))


solid = f1.part
